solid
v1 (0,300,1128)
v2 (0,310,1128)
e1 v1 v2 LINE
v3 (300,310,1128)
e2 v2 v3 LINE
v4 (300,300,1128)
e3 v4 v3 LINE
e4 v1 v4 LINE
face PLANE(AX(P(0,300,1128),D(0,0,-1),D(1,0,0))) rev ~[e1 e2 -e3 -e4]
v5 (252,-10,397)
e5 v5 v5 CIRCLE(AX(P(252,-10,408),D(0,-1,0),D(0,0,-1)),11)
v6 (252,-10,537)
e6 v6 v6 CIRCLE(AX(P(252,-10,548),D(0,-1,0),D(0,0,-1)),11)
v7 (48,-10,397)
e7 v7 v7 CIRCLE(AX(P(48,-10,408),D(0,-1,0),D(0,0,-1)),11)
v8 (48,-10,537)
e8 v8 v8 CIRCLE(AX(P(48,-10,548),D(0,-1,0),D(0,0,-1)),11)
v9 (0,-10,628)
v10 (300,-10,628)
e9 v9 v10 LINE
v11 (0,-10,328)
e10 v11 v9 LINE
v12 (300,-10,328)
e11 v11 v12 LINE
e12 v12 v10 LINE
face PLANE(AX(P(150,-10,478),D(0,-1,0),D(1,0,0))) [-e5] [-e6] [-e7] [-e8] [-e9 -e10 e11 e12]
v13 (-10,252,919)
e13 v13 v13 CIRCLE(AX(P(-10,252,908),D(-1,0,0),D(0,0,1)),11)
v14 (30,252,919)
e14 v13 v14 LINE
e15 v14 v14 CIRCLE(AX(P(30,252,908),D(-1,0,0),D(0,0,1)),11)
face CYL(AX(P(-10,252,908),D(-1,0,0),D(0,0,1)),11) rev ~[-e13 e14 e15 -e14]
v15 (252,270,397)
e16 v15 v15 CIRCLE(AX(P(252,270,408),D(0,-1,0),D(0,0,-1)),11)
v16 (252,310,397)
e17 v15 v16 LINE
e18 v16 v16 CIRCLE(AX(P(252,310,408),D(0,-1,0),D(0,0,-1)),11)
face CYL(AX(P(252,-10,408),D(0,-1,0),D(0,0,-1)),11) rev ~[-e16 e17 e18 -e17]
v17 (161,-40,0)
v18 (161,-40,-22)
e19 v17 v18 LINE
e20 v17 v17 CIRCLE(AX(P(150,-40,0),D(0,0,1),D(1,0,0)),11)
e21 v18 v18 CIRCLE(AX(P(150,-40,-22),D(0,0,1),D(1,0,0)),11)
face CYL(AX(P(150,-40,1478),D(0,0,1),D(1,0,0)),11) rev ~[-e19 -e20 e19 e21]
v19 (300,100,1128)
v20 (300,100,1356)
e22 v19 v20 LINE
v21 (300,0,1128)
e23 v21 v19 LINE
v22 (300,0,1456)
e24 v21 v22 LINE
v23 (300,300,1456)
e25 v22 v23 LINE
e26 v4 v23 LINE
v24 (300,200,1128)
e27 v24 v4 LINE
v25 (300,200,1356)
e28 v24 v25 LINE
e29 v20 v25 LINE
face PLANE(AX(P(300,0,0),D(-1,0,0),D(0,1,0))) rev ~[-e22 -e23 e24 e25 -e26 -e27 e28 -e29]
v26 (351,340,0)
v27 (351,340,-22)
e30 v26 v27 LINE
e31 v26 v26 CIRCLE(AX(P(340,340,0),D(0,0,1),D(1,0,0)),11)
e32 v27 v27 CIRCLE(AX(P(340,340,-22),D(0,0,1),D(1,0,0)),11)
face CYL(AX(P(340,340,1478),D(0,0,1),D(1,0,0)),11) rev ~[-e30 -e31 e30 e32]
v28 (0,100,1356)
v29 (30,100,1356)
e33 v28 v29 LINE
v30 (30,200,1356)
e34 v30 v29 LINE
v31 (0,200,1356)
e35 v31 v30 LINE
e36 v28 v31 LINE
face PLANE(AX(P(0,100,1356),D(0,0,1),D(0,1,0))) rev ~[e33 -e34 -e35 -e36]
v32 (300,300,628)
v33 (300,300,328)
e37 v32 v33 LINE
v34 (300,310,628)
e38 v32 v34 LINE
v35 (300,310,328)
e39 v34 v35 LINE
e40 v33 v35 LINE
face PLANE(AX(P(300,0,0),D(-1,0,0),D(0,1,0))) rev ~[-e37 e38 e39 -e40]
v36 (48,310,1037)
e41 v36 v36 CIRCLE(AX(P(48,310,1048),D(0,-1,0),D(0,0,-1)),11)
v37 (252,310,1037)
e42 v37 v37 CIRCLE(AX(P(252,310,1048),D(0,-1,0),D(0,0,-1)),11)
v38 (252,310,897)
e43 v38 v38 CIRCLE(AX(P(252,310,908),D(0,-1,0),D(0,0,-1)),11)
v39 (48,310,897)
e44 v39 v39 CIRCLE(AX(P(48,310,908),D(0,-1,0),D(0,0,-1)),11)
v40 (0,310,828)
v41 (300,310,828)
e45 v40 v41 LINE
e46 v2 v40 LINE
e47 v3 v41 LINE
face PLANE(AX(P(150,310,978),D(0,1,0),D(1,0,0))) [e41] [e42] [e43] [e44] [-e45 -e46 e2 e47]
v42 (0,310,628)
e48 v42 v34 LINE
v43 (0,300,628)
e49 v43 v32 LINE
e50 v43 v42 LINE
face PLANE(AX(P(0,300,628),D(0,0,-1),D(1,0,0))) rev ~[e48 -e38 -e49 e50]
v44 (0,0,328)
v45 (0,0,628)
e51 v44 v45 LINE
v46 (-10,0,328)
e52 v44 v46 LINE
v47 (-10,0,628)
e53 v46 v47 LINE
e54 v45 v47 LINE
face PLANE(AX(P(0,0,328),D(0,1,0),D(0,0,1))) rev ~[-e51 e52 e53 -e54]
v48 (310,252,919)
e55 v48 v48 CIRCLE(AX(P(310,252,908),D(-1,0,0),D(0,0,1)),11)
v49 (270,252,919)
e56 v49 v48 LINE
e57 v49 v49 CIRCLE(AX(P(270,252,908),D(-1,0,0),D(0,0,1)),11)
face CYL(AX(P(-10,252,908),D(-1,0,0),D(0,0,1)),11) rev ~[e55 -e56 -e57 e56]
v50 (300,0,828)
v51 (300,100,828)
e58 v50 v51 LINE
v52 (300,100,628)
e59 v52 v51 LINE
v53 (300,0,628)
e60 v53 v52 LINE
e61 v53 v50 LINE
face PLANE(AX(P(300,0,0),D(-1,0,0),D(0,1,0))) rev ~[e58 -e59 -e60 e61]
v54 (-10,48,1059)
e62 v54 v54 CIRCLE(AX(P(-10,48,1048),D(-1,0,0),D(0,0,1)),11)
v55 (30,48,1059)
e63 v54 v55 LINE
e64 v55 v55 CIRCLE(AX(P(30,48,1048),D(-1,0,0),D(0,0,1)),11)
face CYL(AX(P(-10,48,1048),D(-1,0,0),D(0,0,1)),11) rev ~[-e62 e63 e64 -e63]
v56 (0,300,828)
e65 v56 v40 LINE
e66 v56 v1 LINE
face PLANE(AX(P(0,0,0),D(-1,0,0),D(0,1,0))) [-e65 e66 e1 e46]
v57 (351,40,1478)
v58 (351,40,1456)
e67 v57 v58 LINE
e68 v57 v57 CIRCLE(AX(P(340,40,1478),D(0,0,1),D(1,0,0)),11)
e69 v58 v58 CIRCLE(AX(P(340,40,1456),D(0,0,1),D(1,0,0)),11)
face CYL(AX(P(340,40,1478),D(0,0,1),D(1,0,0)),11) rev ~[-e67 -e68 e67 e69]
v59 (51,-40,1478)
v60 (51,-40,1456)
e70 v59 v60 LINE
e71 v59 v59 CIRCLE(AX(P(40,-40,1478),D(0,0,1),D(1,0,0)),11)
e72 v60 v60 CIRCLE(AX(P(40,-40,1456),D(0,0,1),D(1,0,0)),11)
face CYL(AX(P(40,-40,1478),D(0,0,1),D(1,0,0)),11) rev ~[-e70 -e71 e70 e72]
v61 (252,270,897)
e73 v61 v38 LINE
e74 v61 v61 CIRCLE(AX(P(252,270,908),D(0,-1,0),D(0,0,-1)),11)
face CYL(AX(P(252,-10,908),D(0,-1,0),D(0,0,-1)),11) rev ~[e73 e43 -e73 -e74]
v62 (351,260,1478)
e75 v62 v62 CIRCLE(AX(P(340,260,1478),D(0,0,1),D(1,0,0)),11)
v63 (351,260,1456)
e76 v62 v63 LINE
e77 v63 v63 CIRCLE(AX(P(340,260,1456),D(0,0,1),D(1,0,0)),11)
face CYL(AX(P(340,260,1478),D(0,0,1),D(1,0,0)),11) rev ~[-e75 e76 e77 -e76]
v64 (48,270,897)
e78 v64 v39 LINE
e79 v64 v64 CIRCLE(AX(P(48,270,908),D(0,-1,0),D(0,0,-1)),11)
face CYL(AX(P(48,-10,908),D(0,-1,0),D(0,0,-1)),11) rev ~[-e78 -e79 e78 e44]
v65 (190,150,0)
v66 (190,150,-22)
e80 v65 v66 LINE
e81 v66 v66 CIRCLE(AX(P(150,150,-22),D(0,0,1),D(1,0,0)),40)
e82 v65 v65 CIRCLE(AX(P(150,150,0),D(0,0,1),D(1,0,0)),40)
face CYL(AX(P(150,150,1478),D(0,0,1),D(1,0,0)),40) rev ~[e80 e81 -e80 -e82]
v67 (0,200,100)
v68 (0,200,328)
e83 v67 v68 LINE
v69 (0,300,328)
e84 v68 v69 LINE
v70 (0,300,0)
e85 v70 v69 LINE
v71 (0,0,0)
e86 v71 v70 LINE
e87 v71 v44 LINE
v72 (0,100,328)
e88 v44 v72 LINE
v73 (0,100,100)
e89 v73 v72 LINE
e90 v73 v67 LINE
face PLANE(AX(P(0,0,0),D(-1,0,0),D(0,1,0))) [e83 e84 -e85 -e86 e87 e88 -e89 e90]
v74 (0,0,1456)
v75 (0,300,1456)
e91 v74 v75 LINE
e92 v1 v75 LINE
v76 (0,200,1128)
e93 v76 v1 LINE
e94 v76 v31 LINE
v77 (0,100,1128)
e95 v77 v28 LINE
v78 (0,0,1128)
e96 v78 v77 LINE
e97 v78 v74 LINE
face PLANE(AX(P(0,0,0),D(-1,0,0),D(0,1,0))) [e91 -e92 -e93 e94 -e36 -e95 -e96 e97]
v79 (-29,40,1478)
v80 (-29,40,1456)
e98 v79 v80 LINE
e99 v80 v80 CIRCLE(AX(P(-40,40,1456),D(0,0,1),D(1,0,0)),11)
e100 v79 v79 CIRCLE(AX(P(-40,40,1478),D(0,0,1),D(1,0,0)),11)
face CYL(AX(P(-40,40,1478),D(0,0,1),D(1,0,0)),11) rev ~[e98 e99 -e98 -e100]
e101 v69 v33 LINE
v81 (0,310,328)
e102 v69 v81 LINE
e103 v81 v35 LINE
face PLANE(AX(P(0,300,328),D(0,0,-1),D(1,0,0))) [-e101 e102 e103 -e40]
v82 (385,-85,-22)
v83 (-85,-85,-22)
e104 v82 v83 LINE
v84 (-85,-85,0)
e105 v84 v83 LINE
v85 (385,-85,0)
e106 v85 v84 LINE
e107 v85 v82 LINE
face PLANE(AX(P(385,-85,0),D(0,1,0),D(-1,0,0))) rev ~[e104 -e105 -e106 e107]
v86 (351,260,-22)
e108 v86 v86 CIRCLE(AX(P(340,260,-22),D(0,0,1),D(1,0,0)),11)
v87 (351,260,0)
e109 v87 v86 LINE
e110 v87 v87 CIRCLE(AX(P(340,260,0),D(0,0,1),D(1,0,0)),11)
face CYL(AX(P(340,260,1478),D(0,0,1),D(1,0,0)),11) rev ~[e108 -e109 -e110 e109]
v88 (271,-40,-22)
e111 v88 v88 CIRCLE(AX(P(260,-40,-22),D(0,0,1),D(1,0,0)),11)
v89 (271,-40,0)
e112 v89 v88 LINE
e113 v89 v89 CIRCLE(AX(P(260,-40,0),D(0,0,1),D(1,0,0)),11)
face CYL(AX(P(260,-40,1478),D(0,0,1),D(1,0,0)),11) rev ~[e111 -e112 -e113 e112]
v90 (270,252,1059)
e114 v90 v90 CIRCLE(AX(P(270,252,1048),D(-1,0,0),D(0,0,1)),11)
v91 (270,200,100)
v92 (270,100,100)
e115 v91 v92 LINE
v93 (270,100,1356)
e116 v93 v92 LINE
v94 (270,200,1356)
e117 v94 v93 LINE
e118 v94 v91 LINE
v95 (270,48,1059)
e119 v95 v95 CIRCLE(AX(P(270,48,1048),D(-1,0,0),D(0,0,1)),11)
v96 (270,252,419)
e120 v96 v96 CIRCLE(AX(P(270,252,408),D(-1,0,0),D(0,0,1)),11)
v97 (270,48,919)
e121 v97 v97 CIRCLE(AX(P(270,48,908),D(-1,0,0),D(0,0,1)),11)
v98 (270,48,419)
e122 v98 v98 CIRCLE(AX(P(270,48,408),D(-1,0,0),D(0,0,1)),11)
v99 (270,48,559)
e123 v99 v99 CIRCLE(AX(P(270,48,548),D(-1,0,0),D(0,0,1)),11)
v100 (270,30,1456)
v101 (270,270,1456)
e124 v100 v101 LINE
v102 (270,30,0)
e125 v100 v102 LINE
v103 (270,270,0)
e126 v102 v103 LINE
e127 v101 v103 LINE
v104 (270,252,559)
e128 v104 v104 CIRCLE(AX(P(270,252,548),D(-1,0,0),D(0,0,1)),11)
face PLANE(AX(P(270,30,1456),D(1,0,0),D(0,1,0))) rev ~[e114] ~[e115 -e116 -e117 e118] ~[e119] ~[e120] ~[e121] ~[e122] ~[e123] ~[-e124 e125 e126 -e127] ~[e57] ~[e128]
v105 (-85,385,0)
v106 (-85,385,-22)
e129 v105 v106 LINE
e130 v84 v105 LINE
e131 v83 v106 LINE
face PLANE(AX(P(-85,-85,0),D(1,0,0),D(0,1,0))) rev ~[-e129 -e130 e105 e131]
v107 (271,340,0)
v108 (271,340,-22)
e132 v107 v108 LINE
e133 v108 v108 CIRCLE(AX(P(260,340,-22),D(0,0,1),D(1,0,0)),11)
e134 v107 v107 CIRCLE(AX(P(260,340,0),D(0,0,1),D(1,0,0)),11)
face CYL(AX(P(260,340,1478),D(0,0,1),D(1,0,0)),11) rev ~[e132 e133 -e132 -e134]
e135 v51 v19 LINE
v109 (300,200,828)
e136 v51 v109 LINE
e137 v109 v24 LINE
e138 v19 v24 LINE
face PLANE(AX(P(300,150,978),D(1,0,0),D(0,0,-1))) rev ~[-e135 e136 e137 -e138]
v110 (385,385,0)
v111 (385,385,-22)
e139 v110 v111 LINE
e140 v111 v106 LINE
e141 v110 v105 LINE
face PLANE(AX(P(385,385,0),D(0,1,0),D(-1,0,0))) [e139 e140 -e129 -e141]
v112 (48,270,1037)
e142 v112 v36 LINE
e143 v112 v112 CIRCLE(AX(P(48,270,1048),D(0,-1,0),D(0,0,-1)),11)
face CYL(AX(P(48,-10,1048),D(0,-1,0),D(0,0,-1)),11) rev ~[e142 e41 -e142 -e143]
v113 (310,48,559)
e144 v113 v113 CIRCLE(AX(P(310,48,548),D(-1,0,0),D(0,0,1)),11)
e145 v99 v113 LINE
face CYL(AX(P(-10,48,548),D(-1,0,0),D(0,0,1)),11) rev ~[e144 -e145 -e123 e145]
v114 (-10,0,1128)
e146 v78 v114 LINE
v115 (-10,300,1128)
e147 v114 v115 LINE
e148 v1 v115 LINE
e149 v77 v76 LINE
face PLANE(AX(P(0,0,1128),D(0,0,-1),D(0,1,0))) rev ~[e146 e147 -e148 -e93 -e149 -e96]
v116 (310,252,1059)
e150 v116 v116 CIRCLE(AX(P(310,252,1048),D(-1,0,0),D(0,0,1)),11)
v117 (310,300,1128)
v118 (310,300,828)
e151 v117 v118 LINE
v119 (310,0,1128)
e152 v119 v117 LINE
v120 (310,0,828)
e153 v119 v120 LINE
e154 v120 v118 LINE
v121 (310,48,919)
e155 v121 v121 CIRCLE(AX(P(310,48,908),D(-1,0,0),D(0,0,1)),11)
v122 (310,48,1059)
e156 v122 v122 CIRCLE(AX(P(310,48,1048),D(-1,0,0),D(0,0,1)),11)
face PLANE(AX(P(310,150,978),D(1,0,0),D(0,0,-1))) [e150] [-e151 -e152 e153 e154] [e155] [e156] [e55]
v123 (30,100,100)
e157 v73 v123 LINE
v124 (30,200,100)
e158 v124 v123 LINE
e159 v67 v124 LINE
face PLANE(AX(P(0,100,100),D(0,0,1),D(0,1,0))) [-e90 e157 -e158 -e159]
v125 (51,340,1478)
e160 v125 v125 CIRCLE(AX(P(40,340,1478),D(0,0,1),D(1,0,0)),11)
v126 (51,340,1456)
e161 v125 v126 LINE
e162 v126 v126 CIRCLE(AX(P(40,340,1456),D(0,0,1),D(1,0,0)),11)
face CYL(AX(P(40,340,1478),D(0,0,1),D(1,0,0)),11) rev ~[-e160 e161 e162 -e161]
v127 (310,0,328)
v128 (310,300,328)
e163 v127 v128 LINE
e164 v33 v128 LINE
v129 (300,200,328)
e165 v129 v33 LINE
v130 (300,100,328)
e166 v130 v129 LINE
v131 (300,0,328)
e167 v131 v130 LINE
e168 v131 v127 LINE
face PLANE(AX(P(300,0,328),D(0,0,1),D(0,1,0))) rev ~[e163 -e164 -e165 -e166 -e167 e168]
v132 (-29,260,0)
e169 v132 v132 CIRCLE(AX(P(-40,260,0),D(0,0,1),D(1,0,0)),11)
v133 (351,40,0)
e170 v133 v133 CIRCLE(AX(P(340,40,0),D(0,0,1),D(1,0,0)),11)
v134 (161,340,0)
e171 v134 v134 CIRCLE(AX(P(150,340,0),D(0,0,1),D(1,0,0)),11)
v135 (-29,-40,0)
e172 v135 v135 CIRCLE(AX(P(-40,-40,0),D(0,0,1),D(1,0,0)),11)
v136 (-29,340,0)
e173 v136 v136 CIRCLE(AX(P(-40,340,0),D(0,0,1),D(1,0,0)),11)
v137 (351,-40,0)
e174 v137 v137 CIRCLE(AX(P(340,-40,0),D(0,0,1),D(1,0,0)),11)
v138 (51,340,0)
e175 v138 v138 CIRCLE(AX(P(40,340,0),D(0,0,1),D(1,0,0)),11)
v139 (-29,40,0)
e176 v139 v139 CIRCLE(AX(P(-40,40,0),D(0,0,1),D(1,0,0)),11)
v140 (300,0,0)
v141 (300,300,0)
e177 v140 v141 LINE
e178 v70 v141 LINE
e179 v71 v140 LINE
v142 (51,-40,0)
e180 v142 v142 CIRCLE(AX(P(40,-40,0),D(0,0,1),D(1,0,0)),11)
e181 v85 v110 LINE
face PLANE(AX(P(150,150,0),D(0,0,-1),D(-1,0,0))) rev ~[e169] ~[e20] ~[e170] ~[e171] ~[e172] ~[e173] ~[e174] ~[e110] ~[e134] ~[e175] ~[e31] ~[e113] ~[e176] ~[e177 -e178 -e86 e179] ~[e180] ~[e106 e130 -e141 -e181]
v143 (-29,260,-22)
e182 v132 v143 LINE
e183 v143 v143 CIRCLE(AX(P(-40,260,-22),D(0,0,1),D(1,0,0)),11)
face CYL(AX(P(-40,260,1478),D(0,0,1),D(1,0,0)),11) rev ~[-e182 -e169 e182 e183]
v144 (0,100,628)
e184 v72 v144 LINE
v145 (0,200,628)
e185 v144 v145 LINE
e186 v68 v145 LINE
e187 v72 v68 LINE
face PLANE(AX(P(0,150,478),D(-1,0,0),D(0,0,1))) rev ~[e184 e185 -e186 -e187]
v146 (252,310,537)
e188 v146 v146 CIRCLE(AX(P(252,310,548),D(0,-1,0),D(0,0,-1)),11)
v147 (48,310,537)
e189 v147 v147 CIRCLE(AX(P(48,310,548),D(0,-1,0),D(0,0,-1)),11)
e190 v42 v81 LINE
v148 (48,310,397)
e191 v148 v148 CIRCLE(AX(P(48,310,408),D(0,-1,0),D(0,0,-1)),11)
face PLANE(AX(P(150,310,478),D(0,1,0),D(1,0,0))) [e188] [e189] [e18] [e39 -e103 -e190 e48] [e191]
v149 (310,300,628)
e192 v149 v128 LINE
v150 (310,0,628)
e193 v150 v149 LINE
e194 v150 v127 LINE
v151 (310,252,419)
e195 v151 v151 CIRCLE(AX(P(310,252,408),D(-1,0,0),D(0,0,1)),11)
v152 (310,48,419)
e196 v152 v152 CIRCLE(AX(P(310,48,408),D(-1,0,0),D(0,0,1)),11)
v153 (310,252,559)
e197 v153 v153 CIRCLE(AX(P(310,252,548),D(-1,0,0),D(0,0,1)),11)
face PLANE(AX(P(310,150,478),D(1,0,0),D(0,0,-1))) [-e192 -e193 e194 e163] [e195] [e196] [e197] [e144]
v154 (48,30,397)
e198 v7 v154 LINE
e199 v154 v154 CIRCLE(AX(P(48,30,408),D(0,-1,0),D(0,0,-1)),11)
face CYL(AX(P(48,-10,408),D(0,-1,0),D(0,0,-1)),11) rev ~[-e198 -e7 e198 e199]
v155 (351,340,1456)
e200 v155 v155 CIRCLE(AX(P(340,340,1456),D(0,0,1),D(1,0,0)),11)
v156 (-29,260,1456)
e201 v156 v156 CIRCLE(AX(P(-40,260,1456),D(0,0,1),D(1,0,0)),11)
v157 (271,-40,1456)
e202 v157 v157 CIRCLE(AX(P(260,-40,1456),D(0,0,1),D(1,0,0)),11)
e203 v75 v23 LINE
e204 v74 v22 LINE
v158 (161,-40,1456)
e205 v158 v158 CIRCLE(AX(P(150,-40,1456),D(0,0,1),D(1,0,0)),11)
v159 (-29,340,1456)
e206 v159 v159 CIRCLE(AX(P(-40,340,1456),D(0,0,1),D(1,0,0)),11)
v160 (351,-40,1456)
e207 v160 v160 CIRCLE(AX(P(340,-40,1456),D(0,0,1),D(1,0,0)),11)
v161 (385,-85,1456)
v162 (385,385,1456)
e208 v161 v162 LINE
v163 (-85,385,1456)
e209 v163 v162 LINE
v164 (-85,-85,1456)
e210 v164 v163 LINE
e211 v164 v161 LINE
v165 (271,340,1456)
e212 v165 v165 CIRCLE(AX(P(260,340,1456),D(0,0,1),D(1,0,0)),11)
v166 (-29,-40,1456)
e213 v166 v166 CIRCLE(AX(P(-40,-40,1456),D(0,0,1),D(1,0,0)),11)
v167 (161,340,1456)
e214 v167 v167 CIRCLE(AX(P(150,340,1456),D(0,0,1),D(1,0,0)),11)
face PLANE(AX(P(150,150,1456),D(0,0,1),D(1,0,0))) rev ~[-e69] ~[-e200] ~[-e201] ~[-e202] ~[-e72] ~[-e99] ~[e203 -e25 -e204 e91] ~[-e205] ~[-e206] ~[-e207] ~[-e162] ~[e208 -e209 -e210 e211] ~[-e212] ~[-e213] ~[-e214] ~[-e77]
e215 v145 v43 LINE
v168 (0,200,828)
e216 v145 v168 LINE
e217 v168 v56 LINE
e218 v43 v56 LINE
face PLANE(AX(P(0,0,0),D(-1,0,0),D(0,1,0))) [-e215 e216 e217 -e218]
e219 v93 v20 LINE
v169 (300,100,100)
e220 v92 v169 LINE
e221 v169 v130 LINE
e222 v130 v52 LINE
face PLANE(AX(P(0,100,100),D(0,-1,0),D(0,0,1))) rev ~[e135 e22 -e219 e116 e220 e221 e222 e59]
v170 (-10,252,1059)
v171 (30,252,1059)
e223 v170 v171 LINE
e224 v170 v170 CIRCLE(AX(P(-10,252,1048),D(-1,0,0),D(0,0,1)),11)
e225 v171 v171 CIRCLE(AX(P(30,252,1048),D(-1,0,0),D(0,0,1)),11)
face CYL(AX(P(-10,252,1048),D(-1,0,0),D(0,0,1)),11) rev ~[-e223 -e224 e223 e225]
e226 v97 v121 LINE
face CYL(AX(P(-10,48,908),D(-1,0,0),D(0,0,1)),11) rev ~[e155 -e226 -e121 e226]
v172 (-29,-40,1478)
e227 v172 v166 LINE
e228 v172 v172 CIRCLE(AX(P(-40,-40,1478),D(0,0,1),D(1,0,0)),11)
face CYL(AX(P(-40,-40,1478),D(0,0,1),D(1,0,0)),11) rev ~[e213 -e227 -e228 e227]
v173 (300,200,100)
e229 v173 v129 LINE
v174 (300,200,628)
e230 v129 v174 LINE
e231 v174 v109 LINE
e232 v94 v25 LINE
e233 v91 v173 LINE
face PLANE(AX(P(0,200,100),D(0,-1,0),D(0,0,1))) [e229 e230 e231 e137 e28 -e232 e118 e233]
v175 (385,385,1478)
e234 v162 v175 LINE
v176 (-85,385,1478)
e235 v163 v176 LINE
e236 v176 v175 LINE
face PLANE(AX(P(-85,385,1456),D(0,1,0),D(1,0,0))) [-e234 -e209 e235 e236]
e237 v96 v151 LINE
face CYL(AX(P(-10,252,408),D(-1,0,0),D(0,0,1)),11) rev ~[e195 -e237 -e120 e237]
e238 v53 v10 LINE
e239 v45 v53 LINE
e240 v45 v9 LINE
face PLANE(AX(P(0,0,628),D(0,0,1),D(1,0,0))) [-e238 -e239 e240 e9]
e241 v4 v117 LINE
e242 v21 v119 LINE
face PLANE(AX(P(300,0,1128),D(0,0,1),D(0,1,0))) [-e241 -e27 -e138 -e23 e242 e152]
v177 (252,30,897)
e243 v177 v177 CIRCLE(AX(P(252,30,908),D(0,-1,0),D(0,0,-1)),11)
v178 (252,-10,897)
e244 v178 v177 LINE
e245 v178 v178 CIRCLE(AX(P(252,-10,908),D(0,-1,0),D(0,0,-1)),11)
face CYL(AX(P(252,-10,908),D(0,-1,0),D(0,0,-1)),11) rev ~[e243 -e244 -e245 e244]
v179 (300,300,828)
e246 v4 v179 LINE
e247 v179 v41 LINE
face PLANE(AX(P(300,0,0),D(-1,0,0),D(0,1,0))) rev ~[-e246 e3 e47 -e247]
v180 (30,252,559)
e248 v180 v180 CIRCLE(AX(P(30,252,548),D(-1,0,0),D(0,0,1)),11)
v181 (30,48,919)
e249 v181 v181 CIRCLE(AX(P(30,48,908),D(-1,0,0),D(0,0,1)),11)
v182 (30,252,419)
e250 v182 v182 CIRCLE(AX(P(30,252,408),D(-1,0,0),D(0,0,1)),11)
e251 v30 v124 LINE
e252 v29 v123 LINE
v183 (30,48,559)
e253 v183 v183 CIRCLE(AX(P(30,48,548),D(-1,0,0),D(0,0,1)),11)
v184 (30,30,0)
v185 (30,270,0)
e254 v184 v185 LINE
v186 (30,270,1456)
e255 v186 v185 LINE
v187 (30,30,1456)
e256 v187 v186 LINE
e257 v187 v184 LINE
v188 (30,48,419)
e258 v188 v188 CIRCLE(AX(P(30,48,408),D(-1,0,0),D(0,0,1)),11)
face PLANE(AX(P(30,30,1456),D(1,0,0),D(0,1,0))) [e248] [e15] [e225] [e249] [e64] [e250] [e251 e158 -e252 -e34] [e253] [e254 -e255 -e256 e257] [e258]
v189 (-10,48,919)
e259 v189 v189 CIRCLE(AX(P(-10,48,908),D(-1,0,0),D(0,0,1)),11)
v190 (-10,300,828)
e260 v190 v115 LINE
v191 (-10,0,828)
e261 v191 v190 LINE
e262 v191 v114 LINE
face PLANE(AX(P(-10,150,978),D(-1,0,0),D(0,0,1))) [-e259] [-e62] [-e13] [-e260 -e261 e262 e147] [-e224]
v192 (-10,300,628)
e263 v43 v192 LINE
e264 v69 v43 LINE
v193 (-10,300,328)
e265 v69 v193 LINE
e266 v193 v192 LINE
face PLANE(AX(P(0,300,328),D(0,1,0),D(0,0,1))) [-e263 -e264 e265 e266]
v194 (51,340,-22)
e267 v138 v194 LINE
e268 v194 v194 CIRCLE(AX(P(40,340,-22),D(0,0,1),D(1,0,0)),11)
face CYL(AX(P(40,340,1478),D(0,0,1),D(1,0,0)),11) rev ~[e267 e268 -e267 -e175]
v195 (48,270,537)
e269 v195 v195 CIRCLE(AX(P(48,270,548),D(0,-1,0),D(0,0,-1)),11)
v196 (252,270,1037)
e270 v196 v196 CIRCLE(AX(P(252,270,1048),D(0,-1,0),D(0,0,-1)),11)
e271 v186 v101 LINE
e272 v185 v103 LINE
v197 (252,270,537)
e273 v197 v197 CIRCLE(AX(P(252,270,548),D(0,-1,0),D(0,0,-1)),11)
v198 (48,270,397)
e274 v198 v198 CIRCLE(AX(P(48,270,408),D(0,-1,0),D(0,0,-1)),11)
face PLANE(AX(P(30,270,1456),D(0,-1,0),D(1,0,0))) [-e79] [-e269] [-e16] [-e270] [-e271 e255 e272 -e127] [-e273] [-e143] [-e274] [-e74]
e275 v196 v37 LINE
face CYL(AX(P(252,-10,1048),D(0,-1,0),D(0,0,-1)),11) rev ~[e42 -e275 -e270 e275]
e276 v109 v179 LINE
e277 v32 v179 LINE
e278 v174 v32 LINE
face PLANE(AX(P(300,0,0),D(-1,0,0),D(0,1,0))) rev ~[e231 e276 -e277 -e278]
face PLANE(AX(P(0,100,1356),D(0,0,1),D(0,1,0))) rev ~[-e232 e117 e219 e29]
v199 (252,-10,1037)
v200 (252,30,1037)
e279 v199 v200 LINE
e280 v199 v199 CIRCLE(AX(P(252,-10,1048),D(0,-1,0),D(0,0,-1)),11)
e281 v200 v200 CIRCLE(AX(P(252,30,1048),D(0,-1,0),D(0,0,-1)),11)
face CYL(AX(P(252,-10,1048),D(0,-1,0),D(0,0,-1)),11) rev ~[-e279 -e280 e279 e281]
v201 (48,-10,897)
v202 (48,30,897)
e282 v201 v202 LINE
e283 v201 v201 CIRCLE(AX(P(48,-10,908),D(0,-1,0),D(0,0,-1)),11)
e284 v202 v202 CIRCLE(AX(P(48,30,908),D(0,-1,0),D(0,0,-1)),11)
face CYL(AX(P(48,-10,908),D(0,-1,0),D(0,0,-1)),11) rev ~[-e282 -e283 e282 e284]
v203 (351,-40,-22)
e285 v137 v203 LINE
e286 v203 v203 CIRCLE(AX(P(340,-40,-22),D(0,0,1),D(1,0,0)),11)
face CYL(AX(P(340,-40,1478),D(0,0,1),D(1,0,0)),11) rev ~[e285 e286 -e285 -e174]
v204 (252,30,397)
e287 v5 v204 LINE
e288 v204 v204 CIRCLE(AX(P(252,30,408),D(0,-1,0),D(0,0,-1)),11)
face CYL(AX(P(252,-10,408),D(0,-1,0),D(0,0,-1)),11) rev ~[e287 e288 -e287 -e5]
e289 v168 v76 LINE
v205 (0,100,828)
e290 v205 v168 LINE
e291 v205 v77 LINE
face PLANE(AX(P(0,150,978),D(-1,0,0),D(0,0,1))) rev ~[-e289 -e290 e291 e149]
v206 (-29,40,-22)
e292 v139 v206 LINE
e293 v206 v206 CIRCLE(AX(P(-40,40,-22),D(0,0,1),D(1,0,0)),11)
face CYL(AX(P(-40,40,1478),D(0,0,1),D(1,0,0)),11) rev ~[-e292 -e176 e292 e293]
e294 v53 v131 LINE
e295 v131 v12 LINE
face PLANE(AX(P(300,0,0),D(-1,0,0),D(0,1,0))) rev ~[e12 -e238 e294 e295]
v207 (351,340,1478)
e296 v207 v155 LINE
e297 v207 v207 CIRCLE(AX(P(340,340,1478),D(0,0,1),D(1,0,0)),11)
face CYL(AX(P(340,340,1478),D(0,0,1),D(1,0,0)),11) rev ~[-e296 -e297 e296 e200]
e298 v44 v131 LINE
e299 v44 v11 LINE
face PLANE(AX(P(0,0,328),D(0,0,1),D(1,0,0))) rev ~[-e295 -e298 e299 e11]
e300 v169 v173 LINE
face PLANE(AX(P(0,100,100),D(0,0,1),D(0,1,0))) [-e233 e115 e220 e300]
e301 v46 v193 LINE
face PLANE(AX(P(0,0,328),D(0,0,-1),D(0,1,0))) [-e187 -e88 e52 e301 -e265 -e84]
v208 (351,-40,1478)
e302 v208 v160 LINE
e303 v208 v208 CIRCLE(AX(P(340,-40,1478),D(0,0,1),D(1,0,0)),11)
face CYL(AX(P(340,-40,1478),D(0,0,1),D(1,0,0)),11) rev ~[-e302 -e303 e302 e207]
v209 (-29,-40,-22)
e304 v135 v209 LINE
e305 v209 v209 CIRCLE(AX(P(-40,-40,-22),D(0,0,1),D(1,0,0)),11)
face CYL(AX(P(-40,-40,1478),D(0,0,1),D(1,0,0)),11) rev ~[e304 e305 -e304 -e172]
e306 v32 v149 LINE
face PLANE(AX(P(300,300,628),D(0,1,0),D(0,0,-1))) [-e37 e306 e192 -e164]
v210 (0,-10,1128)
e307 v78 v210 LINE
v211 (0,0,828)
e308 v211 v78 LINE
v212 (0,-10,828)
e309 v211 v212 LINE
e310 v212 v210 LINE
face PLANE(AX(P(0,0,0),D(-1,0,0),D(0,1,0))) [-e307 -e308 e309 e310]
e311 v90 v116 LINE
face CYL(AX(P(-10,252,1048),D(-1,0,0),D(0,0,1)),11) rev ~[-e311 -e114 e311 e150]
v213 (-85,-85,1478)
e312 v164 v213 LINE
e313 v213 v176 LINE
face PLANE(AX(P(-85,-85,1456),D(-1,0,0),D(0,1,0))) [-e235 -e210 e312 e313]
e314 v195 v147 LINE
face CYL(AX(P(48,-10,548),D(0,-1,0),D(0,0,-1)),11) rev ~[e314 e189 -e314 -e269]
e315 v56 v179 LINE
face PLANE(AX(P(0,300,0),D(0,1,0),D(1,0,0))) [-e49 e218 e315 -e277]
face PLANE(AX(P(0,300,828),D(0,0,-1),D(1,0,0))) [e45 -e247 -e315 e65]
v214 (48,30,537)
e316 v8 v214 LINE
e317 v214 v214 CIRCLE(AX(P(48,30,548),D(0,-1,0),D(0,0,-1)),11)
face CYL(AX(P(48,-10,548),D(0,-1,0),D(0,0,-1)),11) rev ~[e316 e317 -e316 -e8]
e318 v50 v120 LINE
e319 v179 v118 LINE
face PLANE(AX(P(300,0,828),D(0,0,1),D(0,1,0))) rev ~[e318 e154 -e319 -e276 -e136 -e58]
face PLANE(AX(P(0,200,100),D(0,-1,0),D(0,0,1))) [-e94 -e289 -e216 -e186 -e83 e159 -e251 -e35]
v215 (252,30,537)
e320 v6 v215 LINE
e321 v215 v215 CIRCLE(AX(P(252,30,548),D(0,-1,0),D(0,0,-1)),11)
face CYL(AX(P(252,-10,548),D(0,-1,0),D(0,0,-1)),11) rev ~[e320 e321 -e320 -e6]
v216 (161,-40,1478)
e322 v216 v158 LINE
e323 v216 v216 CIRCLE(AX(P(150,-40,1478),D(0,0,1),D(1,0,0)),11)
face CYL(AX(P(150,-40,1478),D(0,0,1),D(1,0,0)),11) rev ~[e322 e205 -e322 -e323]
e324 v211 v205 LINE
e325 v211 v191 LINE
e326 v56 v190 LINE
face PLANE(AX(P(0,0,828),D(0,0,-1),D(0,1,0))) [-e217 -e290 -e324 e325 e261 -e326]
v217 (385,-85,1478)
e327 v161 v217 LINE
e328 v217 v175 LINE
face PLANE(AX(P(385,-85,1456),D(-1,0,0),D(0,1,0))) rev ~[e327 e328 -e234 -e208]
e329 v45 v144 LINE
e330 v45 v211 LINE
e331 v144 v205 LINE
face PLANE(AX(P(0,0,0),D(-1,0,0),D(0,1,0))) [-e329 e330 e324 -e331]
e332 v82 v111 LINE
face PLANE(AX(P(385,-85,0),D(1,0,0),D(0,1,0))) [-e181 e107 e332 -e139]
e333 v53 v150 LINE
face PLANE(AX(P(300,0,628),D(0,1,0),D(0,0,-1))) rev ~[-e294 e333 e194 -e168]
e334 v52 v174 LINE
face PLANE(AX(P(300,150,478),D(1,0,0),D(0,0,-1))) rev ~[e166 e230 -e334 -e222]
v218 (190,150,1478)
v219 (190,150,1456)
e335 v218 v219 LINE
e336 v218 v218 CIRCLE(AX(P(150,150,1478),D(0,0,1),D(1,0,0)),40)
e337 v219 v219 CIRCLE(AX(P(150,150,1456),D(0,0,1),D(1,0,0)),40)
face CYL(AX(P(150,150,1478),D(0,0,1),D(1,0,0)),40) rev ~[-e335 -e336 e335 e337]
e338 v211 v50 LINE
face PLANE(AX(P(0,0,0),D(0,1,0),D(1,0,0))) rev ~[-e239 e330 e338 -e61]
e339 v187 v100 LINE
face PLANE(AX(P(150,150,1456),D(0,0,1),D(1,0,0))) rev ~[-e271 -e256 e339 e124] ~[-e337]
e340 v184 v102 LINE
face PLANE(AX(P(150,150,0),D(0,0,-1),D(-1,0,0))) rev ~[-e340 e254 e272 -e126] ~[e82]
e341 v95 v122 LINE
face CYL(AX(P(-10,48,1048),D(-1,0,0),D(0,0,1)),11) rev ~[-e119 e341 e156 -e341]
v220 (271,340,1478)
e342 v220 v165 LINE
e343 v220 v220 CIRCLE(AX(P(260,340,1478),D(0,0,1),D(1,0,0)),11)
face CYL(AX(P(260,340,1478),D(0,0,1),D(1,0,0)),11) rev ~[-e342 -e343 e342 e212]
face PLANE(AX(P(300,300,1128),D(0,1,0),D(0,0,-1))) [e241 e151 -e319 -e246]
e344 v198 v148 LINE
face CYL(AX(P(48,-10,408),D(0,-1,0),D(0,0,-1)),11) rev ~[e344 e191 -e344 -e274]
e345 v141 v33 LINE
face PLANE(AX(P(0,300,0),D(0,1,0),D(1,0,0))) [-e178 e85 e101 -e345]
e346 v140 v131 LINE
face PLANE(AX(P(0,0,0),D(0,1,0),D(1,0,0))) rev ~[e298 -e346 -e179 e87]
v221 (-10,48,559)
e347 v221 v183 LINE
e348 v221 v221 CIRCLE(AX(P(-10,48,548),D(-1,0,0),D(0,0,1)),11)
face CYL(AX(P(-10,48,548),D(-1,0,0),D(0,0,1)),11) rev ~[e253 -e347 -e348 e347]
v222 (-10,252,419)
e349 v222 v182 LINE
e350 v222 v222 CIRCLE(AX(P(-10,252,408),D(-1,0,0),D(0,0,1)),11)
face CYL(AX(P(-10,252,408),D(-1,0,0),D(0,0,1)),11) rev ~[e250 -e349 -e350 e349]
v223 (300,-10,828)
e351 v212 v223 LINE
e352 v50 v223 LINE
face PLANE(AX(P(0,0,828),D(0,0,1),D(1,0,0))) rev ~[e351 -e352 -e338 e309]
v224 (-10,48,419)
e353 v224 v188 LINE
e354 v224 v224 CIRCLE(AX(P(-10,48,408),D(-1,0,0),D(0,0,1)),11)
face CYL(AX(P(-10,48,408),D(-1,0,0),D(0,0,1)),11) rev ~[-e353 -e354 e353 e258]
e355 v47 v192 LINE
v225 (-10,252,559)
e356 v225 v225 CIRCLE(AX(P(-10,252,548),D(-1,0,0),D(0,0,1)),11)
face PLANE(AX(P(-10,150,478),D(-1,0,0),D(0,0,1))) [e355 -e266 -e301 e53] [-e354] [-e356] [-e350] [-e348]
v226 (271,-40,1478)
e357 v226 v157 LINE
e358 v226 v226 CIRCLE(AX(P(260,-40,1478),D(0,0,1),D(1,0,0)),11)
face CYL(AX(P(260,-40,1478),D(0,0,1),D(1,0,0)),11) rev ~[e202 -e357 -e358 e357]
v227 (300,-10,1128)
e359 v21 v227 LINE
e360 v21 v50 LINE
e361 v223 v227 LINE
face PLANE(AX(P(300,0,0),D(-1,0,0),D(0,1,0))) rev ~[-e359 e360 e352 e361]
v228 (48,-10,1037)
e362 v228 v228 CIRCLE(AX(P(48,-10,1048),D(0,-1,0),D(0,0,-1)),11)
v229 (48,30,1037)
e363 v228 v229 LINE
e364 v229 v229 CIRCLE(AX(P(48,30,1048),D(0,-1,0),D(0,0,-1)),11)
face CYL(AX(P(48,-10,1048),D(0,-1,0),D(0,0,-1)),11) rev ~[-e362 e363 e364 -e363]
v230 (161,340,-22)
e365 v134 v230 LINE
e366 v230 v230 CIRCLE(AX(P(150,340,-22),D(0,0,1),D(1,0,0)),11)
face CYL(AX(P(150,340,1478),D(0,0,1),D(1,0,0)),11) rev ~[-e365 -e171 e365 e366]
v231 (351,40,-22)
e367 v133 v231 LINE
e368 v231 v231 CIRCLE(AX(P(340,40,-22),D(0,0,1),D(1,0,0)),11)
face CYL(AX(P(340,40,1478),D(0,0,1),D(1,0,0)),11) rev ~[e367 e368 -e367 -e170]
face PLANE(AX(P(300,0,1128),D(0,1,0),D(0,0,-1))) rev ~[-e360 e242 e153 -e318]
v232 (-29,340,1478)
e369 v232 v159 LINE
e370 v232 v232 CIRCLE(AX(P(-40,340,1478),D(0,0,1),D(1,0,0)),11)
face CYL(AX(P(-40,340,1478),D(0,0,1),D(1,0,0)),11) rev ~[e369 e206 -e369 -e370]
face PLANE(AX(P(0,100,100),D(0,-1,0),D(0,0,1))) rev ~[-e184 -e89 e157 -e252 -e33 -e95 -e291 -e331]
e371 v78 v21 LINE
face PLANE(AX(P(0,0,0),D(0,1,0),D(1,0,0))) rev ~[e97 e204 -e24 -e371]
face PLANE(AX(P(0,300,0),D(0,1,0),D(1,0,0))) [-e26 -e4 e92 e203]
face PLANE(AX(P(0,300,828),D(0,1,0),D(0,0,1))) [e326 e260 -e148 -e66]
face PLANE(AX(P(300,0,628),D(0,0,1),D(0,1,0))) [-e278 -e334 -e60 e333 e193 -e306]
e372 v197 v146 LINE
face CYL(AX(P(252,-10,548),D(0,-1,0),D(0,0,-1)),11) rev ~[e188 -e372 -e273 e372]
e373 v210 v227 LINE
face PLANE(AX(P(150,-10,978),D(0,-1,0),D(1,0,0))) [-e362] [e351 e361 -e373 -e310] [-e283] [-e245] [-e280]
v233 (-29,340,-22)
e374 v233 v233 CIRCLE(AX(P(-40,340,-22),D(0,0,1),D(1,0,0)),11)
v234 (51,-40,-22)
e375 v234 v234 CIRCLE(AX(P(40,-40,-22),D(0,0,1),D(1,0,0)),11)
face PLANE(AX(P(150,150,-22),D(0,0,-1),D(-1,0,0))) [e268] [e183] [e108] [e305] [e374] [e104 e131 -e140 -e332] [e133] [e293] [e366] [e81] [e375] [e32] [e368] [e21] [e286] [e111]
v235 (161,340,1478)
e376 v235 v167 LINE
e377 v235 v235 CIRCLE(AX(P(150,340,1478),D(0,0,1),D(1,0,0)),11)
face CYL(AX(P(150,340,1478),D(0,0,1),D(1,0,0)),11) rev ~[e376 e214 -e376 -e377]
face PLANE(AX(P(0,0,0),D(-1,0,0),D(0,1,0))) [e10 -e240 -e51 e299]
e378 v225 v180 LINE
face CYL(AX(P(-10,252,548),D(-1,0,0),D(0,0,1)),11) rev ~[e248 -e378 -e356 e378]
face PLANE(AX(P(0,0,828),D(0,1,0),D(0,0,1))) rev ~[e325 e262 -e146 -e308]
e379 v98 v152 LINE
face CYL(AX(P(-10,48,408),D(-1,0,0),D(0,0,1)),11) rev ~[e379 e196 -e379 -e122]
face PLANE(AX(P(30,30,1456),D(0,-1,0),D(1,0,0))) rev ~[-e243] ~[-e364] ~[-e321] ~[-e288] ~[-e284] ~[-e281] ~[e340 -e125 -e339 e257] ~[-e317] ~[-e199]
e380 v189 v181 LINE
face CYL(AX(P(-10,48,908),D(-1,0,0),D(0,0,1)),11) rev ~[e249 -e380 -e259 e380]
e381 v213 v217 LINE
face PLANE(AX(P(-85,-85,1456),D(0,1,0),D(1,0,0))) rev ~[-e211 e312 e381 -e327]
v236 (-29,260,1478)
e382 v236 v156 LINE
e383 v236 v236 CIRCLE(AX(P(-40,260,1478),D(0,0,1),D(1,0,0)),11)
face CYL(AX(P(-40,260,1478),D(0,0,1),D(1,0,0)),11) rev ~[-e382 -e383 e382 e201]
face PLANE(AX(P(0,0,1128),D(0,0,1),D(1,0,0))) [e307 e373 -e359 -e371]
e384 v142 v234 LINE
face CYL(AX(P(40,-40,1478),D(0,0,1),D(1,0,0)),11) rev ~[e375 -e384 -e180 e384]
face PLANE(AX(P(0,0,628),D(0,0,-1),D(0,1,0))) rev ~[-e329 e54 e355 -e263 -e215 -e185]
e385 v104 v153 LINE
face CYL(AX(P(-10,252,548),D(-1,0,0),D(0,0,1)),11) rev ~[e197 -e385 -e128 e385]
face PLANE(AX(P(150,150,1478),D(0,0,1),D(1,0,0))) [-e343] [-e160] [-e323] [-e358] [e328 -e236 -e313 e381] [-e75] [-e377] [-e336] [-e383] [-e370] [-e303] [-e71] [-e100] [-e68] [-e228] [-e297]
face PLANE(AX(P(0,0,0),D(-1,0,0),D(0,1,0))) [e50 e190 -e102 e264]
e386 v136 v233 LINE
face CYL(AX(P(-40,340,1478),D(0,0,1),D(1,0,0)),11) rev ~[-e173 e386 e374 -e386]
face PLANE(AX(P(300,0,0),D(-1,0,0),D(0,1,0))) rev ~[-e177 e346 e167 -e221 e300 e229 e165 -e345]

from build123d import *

# Parameters (mm, degrees)
SKETCH_1_W                       = 300
SKETCH_1_H                       = 300
EXTRUDE_1_DEPTH                  = 1456
SKETCH_2_W                       = 240
SKETCH_2_H                       = 240
CUT_EXTRUDE_1_DEPTH              = 1517.553988488
SKETCH_4_W                       = 1256
SKETCH_4_H                       = 100
CUT_EXTRUDE_2_DEPTH              = 1517.553988488
SKETCH_5_W                       = 470
SKETCH_5_H                       = 470
EXTRUDE_2_DEPTH                  = 22
SKETCH_6_W                       = 470
SKETCH_6_H                       = 470
EXTRUDE_3_DEPTH                  = 22
SKETCH_7_R                       = 11
CUT_EXTRUDE_3_DEPTH              = 1596.760007019
SKETCH_8_W                       = 300
SKETCH_8_H                       = 300
EXTRUDE_4_DEPTH                  = 10
SKETCH_9_W                       = 300
SKETCH_9_H                       = 300
EXTRUDE_5_DEPTH                  = 10
SKETCH_10_W                      = 300
SKETCH_10_H                      = 300
EXTRUDE_6_DEPTH                  = 10
SKETCH_11_W                      = 300
SKETCH_11_H                      = 300
EXTRUDE_7_DEPTH                  = 10
SKETCH_12_R                      = 11
CUT_EXTRUDE_4_DEPTH              = 1578.572185353
PATTERN_LINEAR_1_COUNT           = 2
PATTERN_LINEAR_1_PITCH           = 140
PATTERN_LINEAR_1_COUNT_DIR2      = 2
PATTERN_LINEAR_1_PITCH_DIR2      = 204
PATTERN_LINEAR_2_COUNT           = 2
PATTERN_LINEAR_2_PITCH           = 500
PATTERN_LINEAR_2_COPY_1_SKETCH_R = 11
PATTERN_LINEAR_2_COPY_1_DEPTH    = 1578.572185353
PATTERN_LINEAR_2_COPY_2_SKETCH_R = 11
PATTERN_LINEAR_2_COPY_2_DEPTH    = 1578.572185353
PATTERN_LINEAR_2_COPY_3_SKETCH_R = 11
PATTERN_LINEAR_2_COPY_3_DEPTH    = 1578.572185353
SKETCH_13_R                      = 11
CUT_EXTRUDE_5_DEPTH              = 1578.572185353
PATTERN_LINEAR_3_COUNT           = 2
PATTERN_LINEAR_3_PITCH           = 140
PATTERN_LINEAR_3_COUNT_DIR2      = 2
PATTERN_LINEAR_3_PITCH_DIR2      = 204
PATTERN_LINEAR_4_COUNT           = 2
PATTERN_LINEAR_4_PITCH           = 500
PATTERN_LINEAR_4_COPY_1_SKETCH_R = 11
PATTERN_LINEAR_4_COPY_1_DEPTH    = 1578.572185353
PATTERN_LINEAR_4_COPY_2_SKETCH_R = 11
PATTERN_LINEAR_4_COPY_2_DEPTH    = 1578.572185353
PATTERN_LINEAR_4_COPY_3_SKETCH_R = 11
PATTERN_LINEAR_4_COPY_3_DEPTH    = 1578.572185353
SKETCH_14_R                      = 40
CUT_EXTRUDE_6_DEPTH              = 1596.760007019


with BuildPart() as part:
    # 草图1 → 拉伸1 (new body)
    with BuildSketch(Plane.XY):
        with Locations((150, 150)):
            Rectangle(SKETCH_1_W, SKETCH_1_H)
    extrude(amount=EXTRUDE_1_DEPTH)

    # 草图2 → 切除-拉伸1 (cut, through all)
    with BuildSketch(Plane.XY.offset(1456)):
        with Locations((150, 150)):
            Rectangle(SKETCH_2_W, SKETCH_2_H)
    extrude(amount=-CUT_EXTRUDE_1_DEPTH, mode=Mode.SUBTRACT)

    # 草图4 → 切除-拉伸2 (cut, through all)
    with BuildSketch(Plane.ZY):
        with Locations((728, 150)):
            Rectangle(SKETCH_4_W, SKETCH_4_H)
    extrude(amount=-CUT_EXTRUDE_2_DEPTH, mode=Mode.SUBTRACT)

    # 草图5 → 拉伸2 (add)
    with BuildSketch(Plane.XY.offset(1456)):
        with Locations((150, 150)):
            Rectangle(SKETCH_5_W, SKETCH_5_H)
    extrude(amount=EXTRUDE_2_DEPTH)

    # 草图6 → 拉伸3 (add)
    with BuildSketch(Plane(origin=(0, 0, 0), x_dir=(-1, 0, 0), z_dir=(0, 0, -1))):
        with Locations((-150, 150)):
            Rectangle(SKETCH_6_W, SKETCH_6_H)
    extrude(amount=EXTRUDE_3_DEPTH)

    # 草图7 → 切除-拉伸3 (cut, through all)
    with BuildSketch(Plane.XY.offset(1478)):
        with Locations((-40, -40)):
            Circle(SKETCH_7_R)
        with Locations((40, -40)):
            Circle(SKETCH_7_R)
        with Locations((150, -40)):
            Circle(SKETCH_7_R)
        with Locations((260, -40)):
            Circle(SKETCH_7_R)
        with Locations((340, -40)):
            Circle(SKETCH_7_R)
        with Locations((-40, 340)):
            Circle(SKETCH_7_R)
        with Locations((40, 340)):
            Circle(SKETCH_7_R)
        with Locations((150, 340)):
            Circle(SKETCH_7_R)
        with Locations((260, 340)):
            Circle(SKETCH_7_R)
        with Locations((340, 340)):
            Circle(SKETCH_7_R)
        with Locations((-40, 40)):
            Circle(SKETCH_7_R)
        with Locations((-40, 260)):
            Circle(SKETCH_7_R)
        with Locations((340, 40)):
            Circle(SKETCH_7_R)
        with Locations((340, 260)):
            Circle(SKETCH_7_R)
    extrude(amount=-CUT_EXTRUDE_3_DEPTH, mode=Mode.SUBTRACT)

    # 草图8 → 拉伸4 (add)
    with BuildSketch(Plane(origin=(0, 300, 0), x_dir=(1, 0, 0), z_dir=(0, 1, 0))):
        with Locations((150, -478)):
            Rectangle(SKETCH_8_W, SKETCH_8_H)
        with Locations((150, -978)):
            Rectangle(SKETCH_8_W, SKETCH_8_H)
    extrude(amount=EXTRUDE_4_DEPTH)

    # 草图9 → 拉伸5 (add)
    with BuildSketch(Plane.XZ):
        with Locations((150, 478)):
            Rectangle(SKETCH_9_W, SKETCH_9_H)
        with Locations((150, 978)):
            Rectangle(SKETCH_9_W, SKETCH_9_H)
    extrude(amount=EXTRUDE_5_DEPTH)

    # 草图10 → 拉伸6 (add)
    with BuildSketch(Plane(origin=(300, 0, 0), x_dir=(0, 0, -1), z_dir=(1, 0, 0))):
        with Locations((-478, 150)):
            Rectangle(SKETCH_10_W, SKETCH_10_H)
        with Locations((-978, 150)):
            Rectangle(SKETCH_10_W, SKETCH_10_H)
    extrude(amount=EXTRUDE_6_DEPTH)

    # 草图11 → 拉伸7 (add)
    with BuildSketch(Plane.ZY):
        with Locations((478, 150)):
            Rectangle(SKETCH_11_W, SKETCH_11_H)
        with Locations((978, 150)):
            Rectangle(SKETCH_11_W, SKETCH_11_H)
    extrude(amount=EXTRUDE_7_DEPTH)

    # 草图12 → 切除-拉伸4 (cut, through all)
    with BuildSketch(Plane.ZY.offset(10)):
        with Locations((1048, 252)):
            Circle(SKETCH_12_R)
    cut_extrude_4 = extrude(amount=-CUT_EXTRUDE_4_DEPTH, mode=Mode.SUBTRACT)

    # 阵列(线性)1: Cut-Extrude 4 2 × 2
    with Locations(*[(0, -j * PATTERN_LINEAR_1_PITCH_DIR2, -i * PATTERN_LINEAR_1_PITCH) for i in range(PATTERN_LINEAR_1_COUNT) for j in range(PATTERN_LINEAR_1_COUNT_DIR2) if (i, j) != (0, 0)]):
        add(cut_extrude_4, mode=Mode.SUBTRACT)

    # 阵列(线性)2: 切除-拉伸4 ×2
    with Locations(*[(0, 0, -i * PATTERN_LINEAR_2_PITCH) for i in range(1, PATTERN_LINEAR_2_COUNT)]):
        add(cut_extrude_4, mode=Mode.SUBTRACT)

    # 阵列(线性)2 copy 1 sketch → 阵列(线性)2 copy 1 (cut, through all)
    with BuildSketch(Plane(origin=(-10, -204, -500), x_dir=(0, 0, 1), z_dir=(-1, 0, 0))):
        with Locations((1048, 252)):
            Circle(PATTERN_LINEAR_2_COPY_1_SKETCH_R)
    extrude(amount=-PATTERN_LINEAR_2_COPY_1_DEPTH, mode=Mode.SUBTRACT)

    # 阵列(线性)2 copy 2 sketch → 阵列(线性)2 copy 2 (cut, through all)
    with BuildSketch(Plane(origin=(-10, 0, -640), x_dir=(0, 0, 1), z_dir=(-1, 0, 0))):
        with Locations((1048, 252)):
            Circle(PATTERN_LINEAR_2_COPY_2_SKETCH_R)
    extrude(amount=-PATTERN_LINEAR_2_COPY_2_DEPTH, mode=Mode.SUBTRACT)

    # 阵列(线性)2 copy 3 sketch → 阵列(线性)2 copy 3 (cut, through all)
    with BuildSketch(Plane(origin=(-10, -204, -640), x_dir=(0, 0, 1), z_dir=(-1, 0, 0))):
        with Locations((1048, 252)):
            Circle(PATTERN_LINEAR_2_COPY_3_SKETCH_R)
    extrude(amount=-PATTERN_LINEAR_2_COPY_3_DEPTH, mode=Mode.SUBTRACT)

    # 草图13 → 切除-拉伸5 (cut, through all)
    with BuildSketch(Plane.XZ.offset(10)):
        with Locations(Location((48, 1048, 0), (0, 0, 270))):
            Circle(SKETCH_13_R)
    cut_extrude_5 = extrude(amount=-CUT_EXTRUDE_5_DEPTH, mode=Mode.SUBTRACT)

    # 阵列(线性)3: Cut-Extrude 5 2 × 2
    with Locations(*[(j * PATTERN_LINEAR_3_PITCH_DIR2, 0, -i * PATTERN_LINEAR_3_PITCH) for i in range(PATTERN_LINEAR_3_COUNT) for j in range(PATTERN_LINEAR_3_COUNT_DIR2) if (i, j) != (0, 0)]):
        add(cut_extrude_5, mode=Mode.SUBTRACT)

    # 阵列(线性)4: 切除-拉伸5 ×2
    with Locations(*[(0, 0, -i * PATTERN_LINEAR_4_PITCH) for i in range(1, PATTERN_LINEAR_4_COUNT)]):
        add(cut_extrude_5, mode=Mode.SUBTRACT)

    # 阵列(线性)4 copy 1 sketch → 阵列(线性)4 copy 1 (cut, through all)
    with BuildSketch(Plane(origin=(204, -10, -500), x_dir=(1, 0, 0), z_dir=(0, -1, 0))):
        with Locations(Location((48, 1048, 0), (0, 0, 270))):
            Circle(PATTERN_LINEAR_4_COPY_1_SKETCH_R)
    extrude(amount=-PATTERN_LINEAR_4_COPY_1_DEPTH, mode=Mode.SUBTRACT)

    # 阵列(线性)4 copy 2 sketch → 阵列(线性)4 copy 2 (cut, through all)
    with BuildSketch(Plane(origin=(0, -10, -640), x_dir=(1, 0, 0), z_dir=(0, -1, 0))):
        with Locations(Location((48, 1048, 0), (0, 0, 270))):
            Circle(PATTERN_LINEAR_4_COPY_2_SKETCH_R)
    extrude(amount=-PATTERN_LINEAR_4_COPY_2_DEPTH, mode=Mode.SUBTRACT)

    # 阵列(线性)4 copy 3 sketch → 阵列(线性)4 copy 3 (cut, through all)
    with BuildSketch(Plane(origin=(204, -10, -640), x_dir=(1, 0, 0), z_dir=(0, -1, 0))):
        with Locations(Location((48, 1048, 0), (0, 0, 270))):
            Circle(PATTERN_LINEAR_4_COPY_3_SKETCH_R)
    extrude(amount=-PATTERN_LINEAR_4_COPY_3_DEPTH, mode=Mode.SUBTRACT)

    # 草图14 → 切除-拉伸6 (cut, through all)
    with BuildSketch(Plane.XY.offset(1478)):
        with Locations((150, 150)):
            Circle(SKETCH_14_R)
    extrude(amount=-CUT_EXTRUDE_6_DEPTH, mode=Mode.SUBTRACT)


solid = part.part
